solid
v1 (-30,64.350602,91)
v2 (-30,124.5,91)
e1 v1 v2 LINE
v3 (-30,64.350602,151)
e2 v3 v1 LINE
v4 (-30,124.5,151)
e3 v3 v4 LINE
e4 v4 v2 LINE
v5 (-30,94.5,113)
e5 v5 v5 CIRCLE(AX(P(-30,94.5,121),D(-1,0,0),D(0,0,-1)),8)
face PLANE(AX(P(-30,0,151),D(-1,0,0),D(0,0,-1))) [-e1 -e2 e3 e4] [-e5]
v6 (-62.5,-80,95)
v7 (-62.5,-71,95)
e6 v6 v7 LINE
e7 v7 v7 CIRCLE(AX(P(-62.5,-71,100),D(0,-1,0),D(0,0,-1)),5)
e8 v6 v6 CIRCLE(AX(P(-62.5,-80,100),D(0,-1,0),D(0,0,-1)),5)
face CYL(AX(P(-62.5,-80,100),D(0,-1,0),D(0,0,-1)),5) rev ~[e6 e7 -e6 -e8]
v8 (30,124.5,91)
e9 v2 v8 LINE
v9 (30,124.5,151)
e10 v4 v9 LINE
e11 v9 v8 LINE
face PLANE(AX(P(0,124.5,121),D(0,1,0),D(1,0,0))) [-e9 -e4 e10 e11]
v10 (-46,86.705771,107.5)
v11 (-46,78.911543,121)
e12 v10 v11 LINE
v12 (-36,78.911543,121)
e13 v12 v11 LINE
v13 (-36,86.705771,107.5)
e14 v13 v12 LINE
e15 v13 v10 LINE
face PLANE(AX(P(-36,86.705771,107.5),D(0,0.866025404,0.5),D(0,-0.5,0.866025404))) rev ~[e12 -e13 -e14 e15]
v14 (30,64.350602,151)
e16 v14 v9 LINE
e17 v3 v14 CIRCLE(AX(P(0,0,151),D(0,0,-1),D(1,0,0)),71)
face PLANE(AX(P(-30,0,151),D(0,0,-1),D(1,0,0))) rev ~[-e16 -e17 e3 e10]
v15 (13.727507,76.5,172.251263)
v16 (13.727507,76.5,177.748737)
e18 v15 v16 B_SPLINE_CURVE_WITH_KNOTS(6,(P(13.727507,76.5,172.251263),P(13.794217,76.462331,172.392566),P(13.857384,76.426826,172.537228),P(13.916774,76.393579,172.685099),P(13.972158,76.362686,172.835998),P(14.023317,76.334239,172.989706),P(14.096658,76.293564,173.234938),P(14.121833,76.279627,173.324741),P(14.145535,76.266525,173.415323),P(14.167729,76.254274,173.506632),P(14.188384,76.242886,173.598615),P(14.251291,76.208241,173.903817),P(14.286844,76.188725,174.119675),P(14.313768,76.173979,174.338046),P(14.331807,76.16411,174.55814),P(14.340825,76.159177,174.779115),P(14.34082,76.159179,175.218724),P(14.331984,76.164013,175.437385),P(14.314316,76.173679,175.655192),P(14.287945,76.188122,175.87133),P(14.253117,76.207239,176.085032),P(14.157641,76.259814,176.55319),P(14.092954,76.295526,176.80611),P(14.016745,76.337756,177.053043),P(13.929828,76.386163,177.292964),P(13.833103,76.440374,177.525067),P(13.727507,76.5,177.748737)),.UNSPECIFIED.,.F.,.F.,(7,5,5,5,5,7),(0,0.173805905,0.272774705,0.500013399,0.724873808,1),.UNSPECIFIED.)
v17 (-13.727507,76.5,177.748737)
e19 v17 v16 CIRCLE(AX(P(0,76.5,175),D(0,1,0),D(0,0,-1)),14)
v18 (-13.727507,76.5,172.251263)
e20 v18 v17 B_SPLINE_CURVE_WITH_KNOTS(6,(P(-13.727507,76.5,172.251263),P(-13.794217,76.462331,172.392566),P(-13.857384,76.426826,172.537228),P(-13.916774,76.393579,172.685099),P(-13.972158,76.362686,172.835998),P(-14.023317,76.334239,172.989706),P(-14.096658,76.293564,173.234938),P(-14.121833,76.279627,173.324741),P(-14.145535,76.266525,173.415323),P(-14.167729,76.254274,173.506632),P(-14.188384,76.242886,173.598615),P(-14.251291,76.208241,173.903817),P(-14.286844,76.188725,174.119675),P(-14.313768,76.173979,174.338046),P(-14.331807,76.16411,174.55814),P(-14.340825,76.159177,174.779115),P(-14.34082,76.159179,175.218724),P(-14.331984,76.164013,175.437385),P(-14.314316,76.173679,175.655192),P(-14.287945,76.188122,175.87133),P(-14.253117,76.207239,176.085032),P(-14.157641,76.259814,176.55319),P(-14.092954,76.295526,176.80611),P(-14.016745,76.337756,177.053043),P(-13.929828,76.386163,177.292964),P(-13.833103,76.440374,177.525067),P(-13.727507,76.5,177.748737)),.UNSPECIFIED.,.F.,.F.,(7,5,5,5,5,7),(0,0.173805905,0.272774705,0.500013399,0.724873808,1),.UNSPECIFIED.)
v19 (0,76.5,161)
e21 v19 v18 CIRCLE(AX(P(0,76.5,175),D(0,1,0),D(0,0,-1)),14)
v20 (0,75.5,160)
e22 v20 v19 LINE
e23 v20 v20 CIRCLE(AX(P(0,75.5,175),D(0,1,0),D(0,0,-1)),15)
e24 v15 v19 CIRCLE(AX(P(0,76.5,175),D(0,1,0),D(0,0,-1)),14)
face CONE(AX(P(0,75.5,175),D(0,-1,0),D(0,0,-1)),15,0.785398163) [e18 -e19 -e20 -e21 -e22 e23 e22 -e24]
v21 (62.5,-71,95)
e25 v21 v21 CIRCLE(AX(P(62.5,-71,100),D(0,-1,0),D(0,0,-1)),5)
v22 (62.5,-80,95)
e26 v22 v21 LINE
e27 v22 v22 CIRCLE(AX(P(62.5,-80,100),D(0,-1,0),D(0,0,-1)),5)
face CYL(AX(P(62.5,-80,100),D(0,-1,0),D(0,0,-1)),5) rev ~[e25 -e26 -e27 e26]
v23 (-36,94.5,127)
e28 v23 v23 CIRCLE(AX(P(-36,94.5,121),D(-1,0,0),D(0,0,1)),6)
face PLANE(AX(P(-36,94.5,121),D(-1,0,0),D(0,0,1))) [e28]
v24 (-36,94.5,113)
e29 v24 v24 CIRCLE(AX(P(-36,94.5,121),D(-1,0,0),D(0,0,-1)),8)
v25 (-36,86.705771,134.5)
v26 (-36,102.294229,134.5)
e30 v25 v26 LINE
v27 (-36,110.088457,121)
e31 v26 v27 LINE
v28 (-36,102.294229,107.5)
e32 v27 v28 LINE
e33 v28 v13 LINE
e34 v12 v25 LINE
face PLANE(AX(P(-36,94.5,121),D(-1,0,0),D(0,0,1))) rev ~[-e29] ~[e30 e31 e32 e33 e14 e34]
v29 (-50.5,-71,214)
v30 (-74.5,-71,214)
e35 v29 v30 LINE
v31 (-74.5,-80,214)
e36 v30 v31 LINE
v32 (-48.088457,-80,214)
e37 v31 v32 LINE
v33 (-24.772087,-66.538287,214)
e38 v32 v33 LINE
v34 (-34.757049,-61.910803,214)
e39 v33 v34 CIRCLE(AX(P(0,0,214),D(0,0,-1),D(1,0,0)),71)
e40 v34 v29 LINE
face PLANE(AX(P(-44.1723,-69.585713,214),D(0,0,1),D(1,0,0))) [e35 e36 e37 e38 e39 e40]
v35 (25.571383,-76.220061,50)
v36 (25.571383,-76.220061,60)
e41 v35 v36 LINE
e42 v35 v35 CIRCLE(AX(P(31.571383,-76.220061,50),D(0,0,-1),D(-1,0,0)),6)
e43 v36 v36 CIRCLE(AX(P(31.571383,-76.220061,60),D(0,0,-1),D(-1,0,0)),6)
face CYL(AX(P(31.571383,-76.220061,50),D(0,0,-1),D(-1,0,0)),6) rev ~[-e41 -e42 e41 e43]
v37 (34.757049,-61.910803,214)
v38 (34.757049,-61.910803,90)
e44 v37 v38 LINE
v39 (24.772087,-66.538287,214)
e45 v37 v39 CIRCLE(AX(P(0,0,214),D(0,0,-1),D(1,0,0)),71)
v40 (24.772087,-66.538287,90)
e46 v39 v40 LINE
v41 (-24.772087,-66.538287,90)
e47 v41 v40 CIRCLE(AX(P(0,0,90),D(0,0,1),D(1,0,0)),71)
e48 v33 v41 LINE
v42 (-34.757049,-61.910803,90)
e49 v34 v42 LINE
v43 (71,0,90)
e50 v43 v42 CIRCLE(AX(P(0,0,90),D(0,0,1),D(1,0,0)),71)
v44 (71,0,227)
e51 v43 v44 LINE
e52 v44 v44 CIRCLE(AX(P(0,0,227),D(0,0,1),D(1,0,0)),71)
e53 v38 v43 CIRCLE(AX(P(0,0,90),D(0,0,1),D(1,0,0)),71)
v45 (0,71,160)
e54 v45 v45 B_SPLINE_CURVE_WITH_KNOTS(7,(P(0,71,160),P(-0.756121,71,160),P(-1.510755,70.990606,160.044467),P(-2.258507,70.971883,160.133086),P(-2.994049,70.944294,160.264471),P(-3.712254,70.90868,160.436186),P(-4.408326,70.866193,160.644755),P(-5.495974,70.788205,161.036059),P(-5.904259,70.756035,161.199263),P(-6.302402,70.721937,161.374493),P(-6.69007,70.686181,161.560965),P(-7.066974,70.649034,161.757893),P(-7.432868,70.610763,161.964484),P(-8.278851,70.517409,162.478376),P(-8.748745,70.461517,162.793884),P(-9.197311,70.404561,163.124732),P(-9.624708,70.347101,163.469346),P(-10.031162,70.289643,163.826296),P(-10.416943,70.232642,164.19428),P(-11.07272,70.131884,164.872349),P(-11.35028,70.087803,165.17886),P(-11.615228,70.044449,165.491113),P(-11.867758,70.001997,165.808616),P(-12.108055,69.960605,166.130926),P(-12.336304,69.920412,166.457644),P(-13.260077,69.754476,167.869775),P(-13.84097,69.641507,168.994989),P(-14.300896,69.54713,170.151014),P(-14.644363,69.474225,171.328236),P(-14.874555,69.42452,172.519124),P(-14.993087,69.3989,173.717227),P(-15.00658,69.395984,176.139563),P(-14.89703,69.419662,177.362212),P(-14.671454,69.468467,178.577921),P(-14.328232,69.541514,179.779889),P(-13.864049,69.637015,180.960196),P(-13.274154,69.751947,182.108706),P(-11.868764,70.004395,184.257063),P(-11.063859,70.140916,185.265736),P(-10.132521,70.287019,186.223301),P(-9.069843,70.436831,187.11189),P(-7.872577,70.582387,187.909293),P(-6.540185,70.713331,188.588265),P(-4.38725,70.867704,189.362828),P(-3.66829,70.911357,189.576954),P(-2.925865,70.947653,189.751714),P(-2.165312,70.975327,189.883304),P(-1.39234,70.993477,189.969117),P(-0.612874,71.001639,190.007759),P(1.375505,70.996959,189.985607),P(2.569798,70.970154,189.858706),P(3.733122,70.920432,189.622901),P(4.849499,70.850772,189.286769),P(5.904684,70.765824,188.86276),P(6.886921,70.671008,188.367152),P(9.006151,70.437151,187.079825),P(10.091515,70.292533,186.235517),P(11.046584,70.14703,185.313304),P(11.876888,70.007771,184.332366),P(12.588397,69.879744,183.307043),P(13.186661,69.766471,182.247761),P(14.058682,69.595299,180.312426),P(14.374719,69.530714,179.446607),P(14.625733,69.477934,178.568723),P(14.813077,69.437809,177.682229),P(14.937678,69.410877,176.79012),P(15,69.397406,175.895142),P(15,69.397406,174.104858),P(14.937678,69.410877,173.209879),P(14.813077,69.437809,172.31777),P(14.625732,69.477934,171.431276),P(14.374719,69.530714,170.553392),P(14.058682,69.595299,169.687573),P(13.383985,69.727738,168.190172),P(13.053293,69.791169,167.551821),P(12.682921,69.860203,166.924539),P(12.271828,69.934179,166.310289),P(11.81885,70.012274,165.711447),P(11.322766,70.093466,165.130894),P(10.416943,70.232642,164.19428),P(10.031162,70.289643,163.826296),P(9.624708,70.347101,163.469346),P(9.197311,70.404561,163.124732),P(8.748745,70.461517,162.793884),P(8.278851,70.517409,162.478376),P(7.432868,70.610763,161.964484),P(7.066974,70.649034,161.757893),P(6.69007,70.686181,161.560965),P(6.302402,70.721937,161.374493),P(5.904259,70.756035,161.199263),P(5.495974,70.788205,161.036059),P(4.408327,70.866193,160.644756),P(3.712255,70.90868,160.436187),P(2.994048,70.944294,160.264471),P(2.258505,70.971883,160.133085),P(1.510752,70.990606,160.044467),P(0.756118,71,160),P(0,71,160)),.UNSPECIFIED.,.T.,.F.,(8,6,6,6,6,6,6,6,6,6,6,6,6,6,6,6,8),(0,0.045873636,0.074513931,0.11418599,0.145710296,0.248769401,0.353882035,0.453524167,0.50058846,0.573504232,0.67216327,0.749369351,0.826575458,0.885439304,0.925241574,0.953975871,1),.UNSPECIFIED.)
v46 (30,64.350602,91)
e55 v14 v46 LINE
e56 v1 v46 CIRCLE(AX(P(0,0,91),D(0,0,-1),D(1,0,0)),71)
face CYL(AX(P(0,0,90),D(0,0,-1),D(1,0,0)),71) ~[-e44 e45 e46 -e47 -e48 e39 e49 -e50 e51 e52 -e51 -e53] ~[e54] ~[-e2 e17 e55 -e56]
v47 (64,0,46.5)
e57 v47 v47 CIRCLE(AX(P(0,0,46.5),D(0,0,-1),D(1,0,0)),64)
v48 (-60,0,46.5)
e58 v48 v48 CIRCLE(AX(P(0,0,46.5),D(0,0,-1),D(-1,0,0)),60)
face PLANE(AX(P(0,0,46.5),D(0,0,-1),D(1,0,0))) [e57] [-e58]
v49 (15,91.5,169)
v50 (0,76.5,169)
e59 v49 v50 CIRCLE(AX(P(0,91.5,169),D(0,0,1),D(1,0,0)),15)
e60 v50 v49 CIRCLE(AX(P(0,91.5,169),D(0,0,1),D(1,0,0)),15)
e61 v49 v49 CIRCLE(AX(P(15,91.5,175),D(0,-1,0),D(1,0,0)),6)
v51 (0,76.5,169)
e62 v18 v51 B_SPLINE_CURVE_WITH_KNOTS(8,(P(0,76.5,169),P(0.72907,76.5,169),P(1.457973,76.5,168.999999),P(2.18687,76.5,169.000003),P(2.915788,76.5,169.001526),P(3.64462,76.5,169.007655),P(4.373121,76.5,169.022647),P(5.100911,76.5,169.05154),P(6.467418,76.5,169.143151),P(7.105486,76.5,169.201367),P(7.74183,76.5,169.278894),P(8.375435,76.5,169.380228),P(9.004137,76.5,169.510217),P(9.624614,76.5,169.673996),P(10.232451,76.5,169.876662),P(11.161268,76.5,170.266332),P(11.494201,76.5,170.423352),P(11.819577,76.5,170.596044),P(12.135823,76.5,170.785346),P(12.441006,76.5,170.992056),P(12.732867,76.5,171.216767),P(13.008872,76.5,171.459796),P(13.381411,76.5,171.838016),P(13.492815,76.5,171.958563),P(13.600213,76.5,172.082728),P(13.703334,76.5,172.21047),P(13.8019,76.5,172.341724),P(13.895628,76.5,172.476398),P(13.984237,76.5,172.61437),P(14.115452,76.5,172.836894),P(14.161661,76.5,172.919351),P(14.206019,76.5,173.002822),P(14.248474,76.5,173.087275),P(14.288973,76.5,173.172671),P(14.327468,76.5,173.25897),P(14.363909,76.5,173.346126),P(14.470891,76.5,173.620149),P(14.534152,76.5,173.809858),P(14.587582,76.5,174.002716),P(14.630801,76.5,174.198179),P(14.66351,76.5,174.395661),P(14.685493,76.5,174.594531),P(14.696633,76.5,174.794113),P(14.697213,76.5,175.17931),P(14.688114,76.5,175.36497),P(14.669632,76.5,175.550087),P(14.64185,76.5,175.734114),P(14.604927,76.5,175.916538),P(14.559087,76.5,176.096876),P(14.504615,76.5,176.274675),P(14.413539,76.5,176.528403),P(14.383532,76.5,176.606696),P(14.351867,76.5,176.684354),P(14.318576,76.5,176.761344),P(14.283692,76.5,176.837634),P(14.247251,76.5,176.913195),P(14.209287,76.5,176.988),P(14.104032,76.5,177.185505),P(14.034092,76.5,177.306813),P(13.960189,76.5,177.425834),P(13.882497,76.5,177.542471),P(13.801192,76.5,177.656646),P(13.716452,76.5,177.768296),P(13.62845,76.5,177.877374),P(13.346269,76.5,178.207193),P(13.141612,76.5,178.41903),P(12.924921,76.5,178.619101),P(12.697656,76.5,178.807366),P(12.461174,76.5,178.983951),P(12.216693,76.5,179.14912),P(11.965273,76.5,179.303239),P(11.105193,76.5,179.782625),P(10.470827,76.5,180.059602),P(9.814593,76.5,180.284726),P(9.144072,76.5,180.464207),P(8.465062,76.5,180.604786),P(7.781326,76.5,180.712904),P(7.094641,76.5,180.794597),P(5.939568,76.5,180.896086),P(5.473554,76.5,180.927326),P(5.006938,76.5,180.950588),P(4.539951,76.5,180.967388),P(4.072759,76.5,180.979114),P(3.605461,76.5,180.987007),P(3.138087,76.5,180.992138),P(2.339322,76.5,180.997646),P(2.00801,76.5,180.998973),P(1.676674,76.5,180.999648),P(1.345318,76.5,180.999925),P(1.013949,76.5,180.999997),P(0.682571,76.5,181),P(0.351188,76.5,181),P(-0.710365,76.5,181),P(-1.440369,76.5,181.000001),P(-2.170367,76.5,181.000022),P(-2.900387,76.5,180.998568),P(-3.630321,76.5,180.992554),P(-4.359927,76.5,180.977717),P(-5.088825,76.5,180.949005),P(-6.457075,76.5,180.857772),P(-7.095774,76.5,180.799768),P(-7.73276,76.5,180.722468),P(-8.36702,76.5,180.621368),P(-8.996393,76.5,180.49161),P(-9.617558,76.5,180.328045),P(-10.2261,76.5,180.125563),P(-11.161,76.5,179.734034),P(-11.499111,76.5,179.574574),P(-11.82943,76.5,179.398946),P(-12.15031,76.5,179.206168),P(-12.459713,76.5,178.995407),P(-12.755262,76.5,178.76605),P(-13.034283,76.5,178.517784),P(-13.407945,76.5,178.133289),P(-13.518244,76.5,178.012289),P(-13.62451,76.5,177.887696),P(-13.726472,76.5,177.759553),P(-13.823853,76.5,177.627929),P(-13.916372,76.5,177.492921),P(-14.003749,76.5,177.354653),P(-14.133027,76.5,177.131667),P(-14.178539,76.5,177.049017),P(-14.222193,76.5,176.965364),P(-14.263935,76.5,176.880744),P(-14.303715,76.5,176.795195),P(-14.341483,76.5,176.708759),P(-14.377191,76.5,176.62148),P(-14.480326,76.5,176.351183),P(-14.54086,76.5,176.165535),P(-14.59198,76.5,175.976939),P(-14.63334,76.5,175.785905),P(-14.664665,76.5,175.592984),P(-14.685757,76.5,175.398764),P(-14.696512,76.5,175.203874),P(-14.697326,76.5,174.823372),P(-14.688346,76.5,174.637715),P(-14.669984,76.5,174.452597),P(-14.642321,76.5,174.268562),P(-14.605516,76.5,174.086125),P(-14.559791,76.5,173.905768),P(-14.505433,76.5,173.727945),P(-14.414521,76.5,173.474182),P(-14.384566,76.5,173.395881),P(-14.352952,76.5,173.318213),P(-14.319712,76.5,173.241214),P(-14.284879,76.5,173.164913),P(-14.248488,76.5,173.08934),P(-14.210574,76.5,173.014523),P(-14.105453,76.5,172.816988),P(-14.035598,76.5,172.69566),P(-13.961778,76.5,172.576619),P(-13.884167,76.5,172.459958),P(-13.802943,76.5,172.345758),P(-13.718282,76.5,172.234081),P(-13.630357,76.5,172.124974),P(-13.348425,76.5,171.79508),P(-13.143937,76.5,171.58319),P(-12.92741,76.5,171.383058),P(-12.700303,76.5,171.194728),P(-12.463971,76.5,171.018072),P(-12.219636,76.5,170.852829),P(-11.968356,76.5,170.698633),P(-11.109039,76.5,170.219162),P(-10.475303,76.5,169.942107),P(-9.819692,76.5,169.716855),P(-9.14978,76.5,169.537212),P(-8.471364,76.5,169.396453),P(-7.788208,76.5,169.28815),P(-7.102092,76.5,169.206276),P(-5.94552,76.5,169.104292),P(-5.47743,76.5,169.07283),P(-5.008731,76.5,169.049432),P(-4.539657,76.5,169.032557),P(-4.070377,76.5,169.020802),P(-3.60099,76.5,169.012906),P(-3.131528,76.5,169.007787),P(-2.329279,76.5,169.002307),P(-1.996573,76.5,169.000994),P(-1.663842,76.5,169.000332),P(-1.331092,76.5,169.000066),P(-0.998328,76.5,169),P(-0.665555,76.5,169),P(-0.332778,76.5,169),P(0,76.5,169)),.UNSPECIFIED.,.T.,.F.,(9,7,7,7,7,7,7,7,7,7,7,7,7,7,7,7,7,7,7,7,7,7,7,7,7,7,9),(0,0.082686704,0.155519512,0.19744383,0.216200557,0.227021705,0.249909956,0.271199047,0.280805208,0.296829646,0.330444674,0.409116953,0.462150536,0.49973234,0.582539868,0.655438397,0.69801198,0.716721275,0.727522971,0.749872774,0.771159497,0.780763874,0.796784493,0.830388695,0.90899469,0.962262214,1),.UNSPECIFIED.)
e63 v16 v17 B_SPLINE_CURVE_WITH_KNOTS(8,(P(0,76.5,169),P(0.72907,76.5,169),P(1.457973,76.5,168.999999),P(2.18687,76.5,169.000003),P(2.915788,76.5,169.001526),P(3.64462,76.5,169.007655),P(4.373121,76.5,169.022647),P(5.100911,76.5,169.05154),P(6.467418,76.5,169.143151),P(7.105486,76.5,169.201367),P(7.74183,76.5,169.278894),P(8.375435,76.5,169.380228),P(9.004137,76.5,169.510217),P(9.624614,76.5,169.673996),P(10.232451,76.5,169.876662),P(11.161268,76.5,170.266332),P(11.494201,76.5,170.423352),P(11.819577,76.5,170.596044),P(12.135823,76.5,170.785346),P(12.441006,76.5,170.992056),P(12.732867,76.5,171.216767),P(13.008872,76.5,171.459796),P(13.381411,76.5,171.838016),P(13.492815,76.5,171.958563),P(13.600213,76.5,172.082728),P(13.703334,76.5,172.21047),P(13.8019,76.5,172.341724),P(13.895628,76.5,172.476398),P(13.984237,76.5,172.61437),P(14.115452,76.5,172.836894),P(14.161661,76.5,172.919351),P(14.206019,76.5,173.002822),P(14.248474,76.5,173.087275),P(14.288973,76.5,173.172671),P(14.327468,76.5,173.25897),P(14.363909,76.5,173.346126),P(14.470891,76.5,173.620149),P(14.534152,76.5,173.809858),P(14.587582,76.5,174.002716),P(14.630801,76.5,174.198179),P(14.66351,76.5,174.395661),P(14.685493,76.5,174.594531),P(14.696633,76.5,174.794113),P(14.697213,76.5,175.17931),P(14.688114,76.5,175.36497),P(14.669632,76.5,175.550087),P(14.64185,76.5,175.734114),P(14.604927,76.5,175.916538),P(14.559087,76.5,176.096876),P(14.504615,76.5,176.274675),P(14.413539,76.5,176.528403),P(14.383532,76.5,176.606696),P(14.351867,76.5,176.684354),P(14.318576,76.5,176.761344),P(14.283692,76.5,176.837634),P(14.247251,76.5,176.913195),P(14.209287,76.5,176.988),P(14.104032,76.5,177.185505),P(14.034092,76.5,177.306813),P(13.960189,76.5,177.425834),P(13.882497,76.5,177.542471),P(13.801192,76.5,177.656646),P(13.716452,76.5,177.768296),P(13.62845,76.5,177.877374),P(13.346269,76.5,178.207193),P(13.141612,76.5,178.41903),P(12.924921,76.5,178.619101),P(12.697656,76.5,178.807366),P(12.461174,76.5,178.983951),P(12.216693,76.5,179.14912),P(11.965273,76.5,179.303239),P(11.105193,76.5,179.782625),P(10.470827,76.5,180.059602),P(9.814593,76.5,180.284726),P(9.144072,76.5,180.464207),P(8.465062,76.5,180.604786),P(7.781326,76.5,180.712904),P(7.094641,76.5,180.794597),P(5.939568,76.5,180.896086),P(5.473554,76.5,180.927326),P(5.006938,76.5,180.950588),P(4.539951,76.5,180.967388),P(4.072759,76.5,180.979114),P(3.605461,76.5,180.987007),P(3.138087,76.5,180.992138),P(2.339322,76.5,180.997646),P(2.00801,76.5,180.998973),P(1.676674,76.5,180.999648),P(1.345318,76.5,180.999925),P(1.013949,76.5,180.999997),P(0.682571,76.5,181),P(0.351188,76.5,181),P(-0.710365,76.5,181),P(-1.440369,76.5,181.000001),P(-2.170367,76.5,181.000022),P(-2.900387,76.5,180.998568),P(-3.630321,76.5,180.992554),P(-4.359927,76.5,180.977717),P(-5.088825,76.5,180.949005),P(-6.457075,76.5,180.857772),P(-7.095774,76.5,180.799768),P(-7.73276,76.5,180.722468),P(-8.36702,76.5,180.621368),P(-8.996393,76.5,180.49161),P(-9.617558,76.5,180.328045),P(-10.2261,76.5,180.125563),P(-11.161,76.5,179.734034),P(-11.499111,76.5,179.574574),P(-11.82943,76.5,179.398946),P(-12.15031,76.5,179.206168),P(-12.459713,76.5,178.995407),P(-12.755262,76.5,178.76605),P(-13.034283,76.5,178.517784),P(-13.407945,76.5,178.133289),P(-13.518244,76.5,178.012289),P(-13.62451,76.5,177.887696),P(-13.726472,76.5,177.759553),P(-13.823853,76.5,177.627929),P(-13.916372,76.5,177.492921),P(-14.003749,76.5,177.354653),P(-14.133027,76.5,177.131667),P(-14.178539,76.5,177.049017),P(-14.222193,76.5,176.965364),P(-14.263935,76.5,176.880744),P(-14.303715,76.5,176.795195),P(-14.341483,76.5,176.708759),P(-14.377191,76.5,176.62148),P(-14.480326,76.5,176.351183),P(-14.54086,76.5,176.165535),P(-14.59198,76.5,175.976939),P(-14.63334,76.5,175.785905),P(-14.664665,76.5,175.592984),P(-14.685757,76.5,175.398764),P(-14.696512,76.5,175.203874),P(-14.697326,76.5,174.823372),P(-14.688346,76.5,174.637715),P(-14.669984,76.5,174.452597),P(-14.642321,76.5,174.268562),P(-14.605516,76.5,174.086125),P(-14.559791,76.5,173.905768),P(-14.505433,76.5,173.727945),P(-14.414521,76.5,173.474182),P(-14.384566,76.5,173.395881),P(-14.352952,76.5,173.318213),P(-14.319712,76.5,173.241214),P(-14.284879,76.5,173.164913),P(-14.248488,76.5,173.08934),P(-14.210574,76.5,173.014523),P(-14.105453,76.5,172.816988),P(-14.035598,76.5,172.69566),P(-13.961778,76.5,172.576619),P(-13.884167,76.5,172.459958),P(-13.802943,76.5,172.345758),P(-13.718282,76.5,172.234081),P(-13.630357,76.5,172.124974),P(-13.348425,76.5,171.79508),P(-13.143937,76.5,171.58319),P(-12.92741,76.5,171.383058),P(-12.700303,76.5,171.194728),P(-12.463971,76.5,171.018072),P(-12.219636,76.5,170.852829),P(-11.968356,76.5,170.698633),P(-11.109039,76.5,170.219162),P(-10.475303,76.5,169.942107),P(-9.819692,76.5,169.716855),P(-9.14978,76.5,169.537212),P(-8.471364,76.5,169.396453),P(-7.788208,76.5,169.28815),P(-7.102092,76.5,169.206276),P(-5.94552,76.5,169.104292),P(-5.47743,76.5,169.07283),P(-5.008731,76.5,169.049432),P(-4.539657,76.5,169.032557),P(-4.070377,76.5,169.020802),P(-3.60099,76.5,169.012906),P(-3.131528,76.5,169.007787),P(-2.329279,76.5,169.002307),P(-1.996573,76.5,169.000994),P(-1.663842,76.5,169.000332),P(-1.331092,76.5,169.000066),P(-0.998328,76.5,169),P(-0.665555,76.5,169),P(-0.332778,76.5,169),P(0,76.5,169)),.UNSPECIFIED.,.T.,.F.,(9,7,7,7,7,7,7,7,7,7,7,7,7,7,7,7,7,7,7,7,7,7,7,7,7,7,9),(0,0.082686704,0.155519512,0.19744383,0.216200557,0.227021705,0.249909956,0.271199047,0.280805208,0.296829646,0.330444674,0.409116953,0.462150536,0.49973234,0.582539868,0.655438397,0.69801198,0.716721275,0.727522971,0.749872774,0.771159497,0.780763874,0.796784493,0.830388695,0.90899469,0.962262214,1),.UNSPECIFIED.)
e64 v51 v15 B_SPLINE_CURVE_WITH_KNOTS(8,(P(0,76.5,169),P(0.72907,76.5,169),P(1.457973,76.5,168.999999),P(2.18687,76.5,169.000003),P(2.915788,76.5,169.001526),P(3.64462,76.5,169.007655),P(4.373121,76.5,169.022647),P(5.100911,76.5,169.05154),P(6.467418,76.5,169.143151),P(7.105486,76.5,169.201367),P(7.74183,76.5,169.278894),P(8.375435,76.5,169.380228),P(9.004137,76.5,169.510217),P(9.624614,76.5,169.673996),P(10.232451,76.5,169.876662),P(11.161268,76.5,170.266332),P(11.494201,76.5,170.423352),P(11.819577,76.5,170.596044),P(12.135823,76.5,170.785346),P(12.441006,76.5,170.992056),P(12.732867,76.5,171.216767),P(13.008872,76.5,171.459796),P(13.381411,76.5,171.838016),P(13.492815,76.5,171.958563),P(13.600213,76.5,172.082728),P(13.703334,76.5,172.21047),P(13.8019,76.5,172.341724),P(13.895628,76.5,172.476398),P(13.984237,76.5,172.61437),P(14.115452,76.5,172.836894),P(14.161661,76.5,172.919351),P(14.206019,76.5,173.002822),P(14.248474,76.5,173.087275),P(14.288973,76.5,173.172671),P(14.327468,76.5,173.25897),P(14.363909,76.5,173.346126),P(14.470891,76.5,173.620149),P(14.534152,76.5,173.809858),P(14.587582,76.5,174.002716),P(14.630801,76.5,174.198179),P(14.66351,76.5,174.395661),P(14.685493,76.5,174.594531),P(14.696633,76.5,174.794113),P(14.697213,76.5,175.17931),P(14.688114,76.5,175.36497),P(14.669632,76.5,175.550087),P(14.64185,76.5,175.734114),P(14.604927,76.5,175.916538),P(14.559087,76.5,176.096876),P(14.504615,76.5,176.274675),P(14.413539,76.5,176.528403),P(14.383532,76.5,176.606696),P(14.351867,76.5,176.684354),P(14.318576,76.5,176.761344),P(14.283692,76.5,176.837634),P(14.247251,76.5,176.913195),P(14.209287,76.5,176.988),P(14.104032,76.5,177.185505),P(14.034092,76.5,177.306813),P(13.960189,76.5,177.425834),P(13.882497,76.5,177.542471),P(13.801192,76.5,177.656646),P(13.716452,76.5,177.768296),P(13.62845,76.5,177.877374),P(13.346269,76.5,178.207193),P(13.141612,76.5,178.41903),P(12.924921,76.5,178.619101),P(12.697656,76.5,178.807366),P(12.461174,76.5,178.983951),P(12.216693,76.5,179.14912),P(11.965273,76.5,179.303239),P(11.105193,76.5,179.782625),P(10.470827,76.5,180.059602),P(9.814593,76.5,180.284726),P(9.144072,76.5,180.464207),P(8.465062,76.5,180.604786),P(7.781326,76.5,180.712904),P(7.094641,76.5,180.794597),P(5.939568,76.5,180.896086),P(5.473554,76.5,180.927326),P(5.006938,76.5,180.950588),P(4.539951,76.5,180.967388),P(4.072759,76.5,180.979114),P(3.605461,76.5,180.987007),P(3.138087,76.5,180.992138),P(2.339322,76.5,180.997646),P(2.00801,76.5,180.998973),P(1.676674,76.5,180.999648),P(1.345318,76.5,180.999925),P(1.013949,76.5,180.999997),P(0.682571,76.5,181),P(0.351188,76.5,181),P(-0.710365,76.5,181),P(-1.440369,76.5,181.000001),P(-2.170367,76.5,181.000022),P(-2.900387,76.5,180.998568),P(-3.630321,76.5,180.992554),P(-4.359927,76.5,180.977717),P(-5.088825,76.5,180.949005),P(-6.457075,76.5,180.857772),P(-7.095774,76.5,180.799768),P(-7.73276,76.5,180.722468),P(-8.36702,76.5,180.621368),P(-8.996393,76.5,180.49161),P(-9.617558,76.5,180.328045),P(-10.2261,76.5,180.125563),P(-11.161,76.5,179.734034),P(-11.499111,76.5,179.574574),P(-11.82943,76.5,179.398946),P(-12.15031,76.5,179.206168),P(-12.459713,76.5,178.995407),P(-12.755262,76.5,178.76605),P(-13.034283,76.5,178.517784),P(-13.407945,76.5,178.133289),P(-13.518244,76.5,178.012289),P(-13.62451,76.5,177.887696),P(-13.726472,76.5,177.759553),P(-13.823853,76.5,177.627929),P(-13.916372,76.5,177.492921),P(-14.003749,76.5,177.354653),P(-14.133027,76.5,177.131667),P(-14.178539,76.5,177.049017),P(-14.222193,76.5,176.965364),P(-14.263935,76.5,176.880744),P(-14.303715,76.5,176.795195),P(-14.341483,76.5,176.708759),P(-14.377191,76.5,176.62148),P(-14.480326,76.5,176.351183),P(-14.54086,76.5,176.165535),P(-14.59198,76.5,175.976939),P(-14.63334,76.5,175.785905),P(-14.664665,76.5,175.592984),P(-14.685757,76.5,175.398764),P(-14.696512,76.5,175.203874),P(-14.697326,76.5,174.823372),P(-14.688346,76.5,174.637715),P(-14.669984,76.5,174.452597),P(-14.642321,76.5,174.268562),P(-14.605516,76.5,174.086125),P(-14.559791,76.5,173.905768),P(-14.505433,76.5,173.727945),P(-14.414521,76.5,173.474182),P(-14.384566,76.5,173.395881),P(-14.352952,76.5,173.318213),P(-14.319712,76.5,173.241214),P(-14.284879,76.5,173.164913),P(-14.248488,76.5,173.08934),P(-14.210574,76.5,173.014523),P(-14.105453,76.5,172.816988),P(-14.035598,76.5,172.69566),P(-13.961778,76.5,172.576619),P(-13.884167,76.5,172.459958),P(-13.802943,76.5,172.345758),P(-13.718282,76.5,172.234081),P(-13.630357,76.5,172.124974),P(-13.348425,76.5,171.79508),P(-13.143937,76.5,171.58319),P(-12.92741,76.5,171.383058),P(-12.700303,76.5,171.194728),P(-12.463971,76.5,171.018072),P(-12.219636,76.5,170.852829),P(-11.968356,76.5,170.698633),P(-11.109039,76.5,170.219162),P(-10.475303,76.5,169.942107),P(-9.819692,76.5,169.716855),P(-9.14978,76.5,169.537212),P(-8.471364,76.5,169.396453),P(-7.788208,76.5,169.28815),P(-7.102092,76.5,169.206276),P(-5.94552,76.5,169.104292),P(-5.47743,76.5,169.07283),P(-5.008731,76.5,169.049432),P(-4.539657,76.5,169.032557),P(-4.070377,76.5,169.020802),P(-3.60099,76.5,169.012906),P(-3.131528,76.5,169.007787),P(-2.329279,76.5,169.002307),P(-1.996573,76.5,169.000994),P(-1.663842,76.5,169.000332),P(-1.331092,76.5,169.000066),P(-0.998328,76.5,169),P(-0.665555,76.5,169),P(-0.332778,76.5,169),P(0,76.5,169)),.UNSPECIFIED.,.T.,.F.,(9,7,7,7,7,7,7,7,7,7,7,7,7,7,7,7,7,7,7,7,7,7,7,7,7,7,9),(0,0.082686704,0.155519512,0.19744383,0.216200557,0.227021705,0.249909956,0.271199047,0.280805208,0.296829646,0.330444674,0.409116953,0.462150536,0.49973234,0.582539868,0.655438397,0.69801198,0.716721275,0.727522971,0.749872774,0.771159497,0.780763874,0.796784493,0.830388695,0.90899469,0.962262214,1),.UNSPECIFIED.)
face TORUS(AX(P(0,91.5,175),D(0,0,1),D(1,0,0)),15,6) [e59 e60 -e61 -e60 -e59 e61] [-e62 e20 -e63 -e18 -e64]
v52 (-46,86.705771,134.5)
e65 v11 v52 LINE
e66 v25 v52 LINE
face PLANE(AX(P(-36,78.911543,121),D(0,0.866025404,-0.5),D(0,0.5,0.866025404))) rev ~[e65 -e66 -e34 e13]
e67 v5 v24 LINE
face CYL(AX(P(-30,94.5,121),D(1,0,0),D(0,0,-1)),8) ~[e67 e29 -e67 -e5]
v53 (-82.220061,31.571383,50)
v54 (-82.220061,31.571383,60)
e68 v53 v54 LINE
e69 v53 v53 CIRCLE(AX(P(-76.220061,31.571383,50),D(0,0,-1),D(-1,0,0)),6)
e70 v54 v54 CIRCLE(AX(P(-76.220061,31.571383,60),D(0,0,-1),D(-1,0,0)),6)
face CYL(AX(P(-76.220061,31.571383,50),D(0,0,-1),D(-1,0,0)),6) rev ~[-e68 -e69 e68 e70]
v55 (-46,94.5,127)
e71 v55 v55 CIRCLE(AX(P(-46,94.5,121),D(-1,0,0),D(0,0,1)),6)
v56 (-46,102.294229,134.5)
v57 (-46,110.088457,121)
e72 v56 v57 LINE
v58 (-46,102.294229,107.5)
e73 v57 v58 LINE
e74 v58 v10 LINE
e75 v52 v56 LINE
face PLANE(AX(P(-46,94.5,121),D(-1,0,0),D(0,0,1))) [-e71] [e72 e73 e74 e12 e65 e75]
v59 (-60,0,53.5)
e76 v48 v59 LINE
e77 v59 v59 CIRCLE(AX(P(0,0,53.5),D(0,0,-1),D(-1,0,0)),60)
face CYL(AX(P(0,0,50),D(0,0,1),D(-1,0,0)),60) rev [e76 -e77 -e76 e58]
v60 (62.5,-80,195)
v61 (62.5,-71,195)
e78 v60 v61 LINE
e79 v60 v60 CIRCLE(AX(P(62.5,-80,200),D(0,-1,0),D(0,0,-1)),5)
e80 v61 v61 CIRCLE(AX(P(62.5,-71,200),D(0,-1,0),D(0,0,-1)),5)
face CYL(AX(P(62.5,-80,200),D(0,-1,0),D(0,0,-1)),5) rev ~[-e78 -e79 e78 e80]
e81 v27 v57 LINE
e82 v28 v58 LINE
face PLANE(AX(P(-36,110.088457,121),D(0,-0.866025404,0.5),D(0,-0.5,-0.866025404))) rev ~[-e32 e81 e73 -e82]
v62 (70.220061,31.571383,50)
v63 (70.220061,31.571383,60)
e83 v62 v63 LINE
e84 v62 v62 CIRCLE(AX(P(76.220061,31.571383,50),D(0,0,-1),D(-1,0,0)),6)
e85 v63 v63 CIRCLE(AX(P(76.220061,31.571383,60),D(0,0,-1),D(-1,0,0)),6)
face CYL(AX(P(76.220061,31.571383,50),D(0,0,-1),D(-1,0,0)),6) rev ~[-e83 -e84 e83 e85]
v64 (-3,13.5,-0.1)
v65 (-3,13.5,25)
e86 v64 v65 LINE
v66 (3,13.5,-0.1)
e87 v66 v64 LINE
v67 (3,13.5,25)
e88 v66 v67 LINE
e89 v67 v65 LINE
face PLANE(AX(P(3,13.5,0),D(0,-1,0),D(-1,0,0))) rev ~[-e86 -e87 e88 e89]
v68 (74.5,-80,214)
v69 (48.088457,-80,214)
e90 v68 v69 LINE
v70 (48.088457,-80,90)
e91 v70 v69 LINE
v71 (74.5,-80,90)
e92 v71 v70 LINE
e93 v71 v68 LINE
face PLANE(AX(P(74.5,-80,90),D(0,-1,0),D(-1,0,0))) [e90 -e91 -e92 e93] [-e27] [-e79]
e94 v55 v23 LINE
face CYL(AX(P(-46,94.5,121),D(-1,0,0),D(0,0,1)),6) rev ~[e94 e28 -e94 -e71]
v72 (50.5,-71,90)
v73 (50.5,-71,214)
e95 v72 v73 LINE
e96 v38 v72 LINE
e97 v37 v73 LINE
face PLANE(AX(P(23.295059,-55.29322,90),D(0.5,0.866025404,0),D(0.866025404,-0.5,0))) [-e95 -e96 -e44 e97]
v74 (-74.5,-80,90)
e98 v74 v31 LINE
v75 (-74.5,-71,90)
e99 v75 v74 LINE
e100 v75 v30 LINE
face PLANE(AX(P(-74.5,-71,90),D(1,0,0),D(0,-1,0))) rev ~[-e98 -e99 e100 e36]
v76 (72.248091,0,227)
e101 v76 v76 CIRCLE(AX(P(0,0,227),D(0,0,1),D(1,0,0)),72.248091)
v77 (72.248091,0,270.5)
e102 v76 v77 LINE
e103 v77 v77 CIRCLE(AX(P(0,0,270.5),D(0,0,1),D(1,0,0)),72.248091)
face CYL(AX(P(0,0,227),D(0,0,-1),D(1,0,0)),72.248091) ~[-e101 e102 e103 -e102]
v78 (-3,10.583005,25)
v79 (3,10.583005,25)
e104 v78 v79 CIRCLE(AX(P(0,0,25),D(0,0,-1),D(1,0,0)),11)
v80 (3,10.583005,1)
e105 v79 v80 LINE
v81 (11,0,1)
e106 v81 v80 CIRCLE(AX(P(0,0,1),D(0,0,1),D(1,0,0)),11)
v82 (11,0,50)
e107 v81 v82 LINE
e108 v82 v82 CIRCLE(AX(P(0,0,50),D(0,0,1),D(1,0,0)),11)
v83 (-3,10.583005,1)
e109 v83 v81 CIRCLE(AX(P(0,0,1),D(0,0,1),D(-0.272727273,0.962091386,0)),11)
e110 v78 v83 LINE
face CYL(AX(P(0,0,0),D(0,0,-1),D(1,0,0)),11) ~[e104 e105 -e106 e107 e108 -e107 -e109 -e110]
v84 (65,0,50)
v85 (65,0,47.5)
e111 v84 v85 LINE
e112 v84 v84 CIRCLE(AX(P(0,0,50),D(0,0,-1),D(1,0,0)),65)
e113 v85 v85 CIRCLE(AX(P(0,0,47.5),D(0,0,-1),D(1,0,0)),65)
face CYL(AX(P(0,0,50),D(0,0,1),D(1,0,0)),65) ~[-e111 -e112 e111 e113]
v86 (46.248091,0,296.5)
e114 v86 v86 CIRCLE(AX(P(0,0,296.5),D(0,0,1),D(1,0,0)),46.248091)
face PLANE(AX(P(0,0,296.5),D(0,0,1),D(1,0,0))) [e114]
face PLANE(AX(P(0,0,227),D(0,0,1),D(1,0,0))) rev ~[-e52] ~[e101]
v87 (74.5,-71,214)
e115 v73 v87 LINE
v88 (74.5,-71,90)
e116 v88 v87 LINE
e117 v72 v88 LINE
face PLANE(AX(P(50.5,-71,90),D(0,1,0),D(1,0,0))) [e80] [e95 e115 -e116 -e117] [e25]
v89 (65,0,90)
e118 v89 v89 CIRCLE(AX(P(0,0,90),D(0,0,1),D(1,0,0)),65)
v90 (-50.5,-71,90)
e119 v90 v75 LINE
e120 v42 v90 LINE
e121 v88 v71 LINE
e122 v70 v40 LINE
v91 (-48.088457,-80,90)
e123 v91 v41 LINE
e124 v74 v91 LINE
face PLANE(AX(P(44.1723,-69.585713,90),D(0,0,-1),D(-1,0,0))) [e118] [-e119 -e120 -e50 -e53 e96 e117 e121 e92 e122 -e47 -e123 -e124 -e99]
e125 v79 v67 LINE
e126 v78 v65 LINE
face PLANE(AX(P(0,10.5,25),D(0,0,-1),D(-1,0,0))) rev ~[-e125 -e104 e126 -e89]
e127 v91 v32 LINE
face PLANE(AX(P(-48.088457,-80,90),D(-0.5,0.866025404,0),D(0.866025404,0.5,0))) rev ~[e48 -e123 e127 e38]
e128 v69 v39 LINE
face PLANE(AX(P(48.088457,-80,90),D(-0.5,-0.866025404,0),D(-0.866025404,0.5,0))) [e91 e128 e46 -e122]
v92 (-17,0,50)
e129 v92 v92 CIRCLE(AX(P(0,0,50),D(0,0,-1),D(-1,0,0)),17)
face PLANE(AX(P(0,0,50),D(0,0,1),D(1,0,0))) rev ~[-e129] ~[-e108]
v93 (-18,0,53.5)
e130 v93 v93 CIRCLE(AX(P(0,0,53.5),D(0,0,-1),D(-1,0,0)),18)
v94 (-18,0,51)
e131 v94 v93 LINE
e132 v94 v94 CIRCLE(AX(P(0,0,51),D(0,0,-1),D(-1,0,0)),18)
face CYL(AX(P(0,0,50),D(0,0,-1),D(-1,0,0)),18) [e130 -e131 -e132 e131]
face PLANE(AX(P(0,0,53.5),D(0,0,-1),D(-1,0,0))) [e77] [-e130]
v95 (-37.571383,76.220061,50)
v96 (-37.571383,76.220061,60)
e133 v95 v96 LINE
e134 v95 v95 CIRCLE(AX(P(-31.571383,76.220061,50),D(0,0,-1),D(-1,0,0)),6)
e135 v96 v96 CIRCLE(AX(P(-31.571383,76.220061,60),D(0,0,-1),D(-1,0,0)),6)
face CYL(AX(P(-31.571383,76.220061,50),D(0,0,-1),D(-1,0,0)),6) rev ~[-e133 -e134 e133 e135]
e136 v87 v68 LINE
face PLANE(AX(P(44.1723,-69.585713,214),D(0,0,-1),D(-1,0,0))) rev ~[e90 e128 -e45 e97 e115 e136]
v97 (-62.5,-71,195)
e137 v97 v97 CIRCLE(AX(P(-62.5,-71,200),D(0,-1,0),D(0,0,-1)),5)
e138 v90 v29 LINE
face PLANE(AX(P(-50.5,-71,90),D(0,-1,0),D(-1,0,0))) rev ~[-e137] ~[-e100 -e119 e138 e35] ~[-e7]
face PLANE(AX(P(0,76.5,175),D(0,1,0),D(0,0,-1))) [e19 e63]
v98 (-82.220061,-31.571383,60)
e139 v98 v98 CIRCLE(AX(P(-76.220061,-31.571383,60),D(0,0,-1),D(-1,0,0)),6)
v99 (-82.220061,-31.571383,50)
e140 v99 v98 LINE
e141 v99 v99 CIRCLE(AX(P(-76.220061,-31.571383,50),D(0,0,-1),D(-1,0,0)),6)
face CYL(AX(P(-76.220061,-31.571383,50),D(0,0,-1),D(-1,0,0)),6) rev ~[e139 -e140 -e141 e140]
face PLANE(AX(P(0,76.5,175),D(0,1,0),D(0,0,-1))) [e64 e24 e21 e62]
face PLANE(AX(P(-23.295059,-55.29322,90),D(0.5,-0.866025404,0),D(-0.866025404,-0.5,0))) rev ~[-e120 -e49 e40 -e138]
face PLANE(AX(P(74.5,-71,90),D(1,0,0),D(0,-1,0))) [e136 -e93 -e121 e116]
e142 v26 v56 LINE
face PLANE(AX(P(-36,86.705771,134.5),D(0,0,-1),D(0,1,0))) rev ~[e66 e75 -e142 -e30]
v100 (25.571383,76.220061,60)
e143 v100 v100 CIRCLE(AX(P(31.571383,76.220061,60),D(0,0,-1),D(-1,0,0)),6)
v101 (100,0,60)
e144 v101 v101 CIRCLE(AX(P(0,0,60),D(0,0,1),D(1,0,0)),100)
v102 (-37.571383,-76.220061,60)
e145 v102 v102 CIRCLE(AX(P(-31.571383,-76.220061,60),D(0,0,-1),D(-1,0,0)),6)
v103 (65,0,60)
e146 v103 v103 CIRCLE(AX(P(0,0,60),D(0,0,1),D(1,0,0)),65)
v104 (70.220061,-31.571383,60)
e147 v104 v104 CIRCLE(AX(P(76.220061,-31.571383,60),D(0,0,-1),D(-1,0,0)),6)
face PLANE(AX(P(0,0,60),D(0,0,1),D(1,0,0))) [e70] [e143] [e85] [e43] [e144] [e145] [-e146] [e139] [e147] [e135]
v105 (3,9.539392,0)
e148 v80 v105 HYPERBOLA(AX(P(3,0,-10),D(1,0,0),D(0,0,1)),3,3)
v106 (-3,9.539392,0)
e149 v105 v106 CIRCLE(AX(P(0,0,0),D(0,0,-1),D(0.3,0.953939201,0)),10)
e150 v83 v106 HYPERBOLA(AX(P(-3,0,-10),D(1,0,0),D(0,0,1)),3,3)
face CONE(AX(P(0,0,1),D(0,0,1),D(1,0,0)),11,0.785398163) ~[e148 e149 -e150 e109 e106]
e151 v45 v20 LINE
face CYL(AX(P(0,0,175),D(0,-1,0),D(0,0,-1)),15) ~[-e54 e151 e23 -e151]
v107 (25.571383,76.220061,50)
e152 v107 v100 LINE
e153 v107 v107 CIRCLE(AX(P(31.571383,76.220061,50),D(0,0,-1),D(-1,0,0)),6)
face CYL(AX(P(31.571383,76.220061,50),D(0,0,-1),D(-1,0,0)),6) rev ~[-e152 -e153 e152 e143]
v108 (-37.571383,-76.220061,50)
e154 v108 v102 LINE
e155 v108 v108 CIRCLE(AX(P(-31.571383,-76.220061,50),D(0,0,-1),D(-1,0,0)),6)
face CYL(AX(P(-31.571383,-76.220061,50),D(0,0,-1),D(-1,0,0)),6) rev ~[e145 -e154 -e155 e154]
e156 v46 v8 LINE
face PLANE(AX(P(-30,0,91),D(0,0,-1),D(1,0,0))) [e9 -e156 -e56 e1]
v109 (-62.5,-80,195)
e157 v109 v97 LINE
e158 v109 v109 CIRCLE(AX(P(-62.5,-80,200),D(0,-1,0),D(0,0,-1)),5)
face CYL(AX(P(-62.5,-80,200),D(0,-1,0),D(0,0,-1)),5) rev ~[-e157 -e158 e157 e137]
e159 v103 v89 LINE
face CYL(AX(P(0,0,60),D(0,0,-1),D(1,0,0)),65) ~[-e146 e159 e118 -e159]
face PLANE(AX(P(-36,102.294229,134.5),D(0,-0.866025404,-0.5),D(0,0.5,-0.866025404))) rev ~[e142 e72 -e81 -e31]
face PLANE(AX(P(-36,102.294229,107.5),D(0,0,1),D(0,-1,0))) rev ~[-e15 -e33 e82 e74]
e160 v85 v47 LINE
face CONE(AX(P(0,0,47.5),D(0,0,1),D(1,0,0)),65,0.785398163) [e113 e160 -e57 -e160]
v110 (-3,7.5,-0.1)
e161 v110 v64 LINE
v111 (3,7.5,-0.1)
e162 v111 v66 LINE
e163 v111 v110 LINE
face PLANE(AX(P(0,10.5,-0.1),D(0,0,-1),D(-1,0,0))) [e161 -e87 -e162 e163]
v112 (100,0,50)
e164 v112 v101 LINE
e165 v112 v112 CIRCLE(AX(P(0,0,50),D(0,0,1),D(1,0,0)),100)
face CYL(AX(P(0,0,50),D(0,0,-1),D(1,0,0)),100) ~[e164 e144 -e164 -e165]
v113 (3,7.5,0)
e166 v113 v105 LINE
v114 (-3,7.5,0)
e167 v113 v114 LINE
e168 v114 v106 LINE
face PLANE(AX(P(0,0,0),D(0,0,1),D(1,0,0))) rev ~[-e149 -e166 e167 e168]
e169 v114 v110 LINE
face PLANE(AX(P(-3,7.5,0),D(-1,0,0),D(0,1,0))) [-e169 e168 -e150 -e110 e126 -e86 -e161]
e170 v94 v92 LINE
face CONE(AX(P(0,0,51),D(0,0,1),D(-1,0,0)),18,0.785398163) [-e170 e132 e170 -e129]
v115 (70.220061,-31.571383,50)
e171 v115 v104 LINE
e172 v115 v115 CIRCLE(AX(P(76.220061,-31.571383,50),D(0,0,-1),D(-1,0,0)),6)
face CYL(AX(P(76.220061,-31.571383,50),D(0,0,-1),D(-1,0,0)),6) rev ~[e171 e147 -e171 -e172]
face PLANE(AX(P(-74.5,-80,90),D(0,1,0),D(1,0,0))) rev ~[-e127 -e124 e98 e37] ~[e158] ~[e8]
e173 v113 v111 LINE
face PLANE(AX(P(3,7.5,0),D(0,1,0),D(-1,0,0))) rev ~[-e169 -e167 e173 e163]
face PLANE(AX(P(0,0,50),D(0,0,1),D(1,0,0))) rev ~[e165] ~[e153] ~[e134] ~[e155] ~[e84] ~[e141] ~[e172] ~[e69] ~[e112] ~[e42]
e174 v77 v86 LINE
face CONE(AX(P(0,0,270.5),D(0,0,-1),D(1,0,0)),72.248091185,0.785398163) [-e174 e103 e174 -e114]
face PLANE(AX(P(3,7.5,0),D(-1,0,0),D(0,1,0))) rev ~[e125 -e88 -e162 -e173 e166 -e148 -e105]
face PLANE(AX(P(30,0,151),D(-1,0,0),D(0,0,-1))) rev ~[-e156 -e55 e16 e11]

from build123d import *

# Parameters (mm, degrees)
SKETCH_1_R           = 11
EXTRUDE_1_DEPTH      = 50
SKETCH_2_W           = 6
SKETCH_2_H           = 6
EXTRUDE_2_DEPTH      = 0.1
EXTRUDE_2_DEPTH_BACK = 25
CHAMFER_1_SIZE       = 1
SKETCH_3_R           = 100
EXTRUDE_3_DEPTH      = 10
SKETCH_4_R           = 65
SKETCH_4_R_2         = 60
EXTRUDE_4_DEPTH      = 3.5
SKETCH_5_R           = 60
SKETCH_5_R_2         = 18
CUT_EXTRUDE_1_DEPTH  = 3.5
CHAMFER_2_SIZE       = 1
SKETCH_6_R           = 65
EXTRUDE_5_DEPTH      = 30
SKETCH_7_R           = 71
EXTRUDE_6_DEPTH      = 137
SKETCH_8_R           = 72.248091185
EXTRUDE_7_DEPTH      = 69.5
CHAMFER_3_SIZE       = 26
SKETCH_9_R           = 6
CUT_EXTRUDE_2_DEPTH  = 247.5
EXTRUDE_8_DEPTH      = 124
CUT_EXTRUDE_3_REACH  = 182
SKETCH_11_R          = 5
SKETCH_12_W          = 60
SKETCH_12_H          = 60
EXTRUDE_9_DEPTH      = 124.5
SKETCH_13_R          = 15
EXTRUDE_10_DEPTH     = 76.5
CHAMFER_4_SIZE       = 1
SKETCH_15_R          = 6
SKETCH_16_R          = 8
EXTRUDE_11_DEPTH     = 6
EXTRUDE_12_DEPTH     = 10
SKETCH_18_R          = 6
CUT_EXTRUDE_4_DEPTH  = 10


with BuildPart() as part:
    # Эскиз1 → Вытянуть1 (new body)
    with BuildSketch(Plane.XY):
        Circle(SKETCH_1_R)
    extrude(amount=EXTRUDE_1_DEPTH)

    # Эскиз2 → Вытянуть2 (add, two sides)
    with BuildSketch(Plane(origin=(0, 0, 0), x_dir=(-1, 0, 0), z_dir=(0, 0, -1))) as extrude_2_sk:
        with Locations((0, 10.5)):
            Rectangle(SKETCH_2_W, SKETCH_2_H)
    extrude(amount=EXTRUDE_2_DEPTH)
    extrude(extrude_2_sk.sketch, amount=-EXTRUDE_2_DEPTH_BACK)

    # Фаска1
    chamfer_1_edges = [part.edges().sort_by_distance(p)[0] for p in [
        (-6.633249581, -8.774964387, 0),
    ]]
    chamfer(chamfer_1_edges, length=CHAMFER_1_SIZE)

    # Эскиз3 → Вытянуть3 (add)
    with BuildSketch(Plane.XY.offset(50)):
        Circle(SKETCH_3_R)
    extrude(amount=EXTRUDE_3_DEPTH)

    # Эскиз4 → Вытянуть4 (add)
    with BuildSketch(Plane(origin=(0, 0, 50), x_dir=(-1, 0, 0), z_dir=(0, 0, -1))):
        with Locations(Location((0, 0, 0), (0, 0, 180))):  # turned: the seam where the file's is
            Circle(SKETCH_4_R)
        Circle(SKETCH_4_R_2, mode=Mode.SUBTRACT)
    extrude(amount=EXTRUDE_4_DEPTH)

    # Эскиз5 → Вырез-Вытянуть1 (cut)
    with BuildSketch(Plane(origin=(0, 0, 50), x_dir=(-1, 0, 0), z_dir=(0, 0, -1))):
        Circle(SKETCH_5_R)
        Circle(SKETCH_5_R_2, mode=Mode.SUBTRACT)
    extrude(amount=-CUT_EXTRUDE_1_DEPTH, mode=Mode.SUBTRACT)

    # Фаска2
    chamfer_2_edges = [part.edges().sort_by_distance(p)[0] for p in [
        (-65, 0, 46.5),
        (18, 0, 50),
    ]]
    chamfer(chamfer_2_edges, length=CHAMFER_2_SIZE)

    # Эскиз6 → Вытянуть5 (add)
    with BuildSketch(Plane.XY.offset(60)):
        Circle(SKETCH_6_R)
    extrude(amount=EXTRUDE_5_DEPTH)

    # Эскиз7 → Вытянуть6 (add)
    with BuildSketch(Plane.XY.offset(90)):
        Circle(SKETCH_7_R)
    extrude(amount=EXTRUDE_6_DEPTH)

    # Эскиз8 → Вытянуть7 (add)
    with BuildSketch(Plane.XY.offset(227)):
        Circle(SKETCH_8_R)
    extrude(amount=EXTRUDE_7_DEPTH)

    # Фаска3
    chamfer_3_edges = [part.edges().sort_by_distance(p)[0] for p in [
        (-72.248091185, 0, 296.5),
    ]]
    chamfer(chamfer_3_edges, length=CHAMFER_3_SIZE)

    # Эскиз9 → Вырез-Вытянуть2 (cut, through all)
    with BuildSketch(Plane(origin=(0, 0, 50), x_dir=(-1, 0, 0), z_dir=(0, 0, -1))):
        with Locations((-31.57138317, 76.220061432)):
            Circle(SKETCH_9_R)
        with Locations((31.57138317, 76.220061432)):
            Circle(SKETCH_9_R)
        with Locations((76.220061432, 31.57138317)):
            Circle(SKETCH_9_R)
        with Locations((76.220061432, -31.57138317)):
            Circle(SKETCH_9_R)
        with Locations((31.57138317, -76.220061432)):
            Circle(SKETCH_9_R)
        with Locations((-31.57138317, -76.220061432)):
            Circle(SKETCH_9_R)
        with Locations((-76.220061432, -31.57138317)):
            Circle(SKETCH_9_R)
        with Locations((-76.220061432, 31.57138317)):
            Circle(SKETCH_9_R)
    extrude(amount=-CUT_EXTRUDE_2_DEPTH, mode=Mode.SUBTRACT)

    # Эскиз10 → Вытянуть8 (add)
    with BuildSketch(Plane(origin=(0, 0, 90), x_dir=(-1, 0, 0), z_dir=(0, 0, -1))):
        Polygon((-74.5, -80), (-48.088457268, -80), (-11.515477308, -58.884580175), (-23.295059446, -55.293220248), (-50.5, -71), (-74.5, -71), align=None)
        Polygon((74.5, -71), (74.5, -80), (48.088457268, -80), (11.515477308, -58.884580175), (23.295059446, -55.293220248), (50.5, -71), align=None)
    extrude(amount=-EXTRUDE_8_DEPTH)

    # Эскиз11 → Вырез-Вытянуть3 (cut, up to next)
    with BuildSketch(Plane.XZ.offset(80), mode=Mode.PRIVATE) as cut_extrude_3_sk1:
        with Locations(Location((-62.5, 100, 0), (0, 0, 270))):  # turned: the seam where the file's is
            Circle(SKETCH_11_R)
    cut_extrude_3_tool1 = extrude(cut_extrude_3_sk1.sketch, amount=-CUT_EXTRUDE_3_REACH, mode=Mode.PRIVATE) & part.part
    add(cut_extrude_3_tool1.solids().sort_by_distance((-62.5, -80, 100))[0], mode=Mode.SUBTRACT)
    # Эскиз11 → Вырез-Вытянуть3 (cut, up to next)
    with BuildSketch(Plane.XZ.offset(80), mode=Mode.PRIVATE) as cut_extrude_3_sk2:
        with Locations(Location((62.5, 100, 0), (0, 0, 270))):  # turned: the seam where the file's is
            Circle(SKETCH_11_R)
    cut_extrude_3_tool2 = extrude(cut_extrude_3_sk2.sketch, amount=-CUT_EXTRUDE_3_REACH, mode=Mode.PRIVATE) & part.part
    add(cut_extrude_3_tool2.solids().sort_by_distance((62.5, -80, 100))[0], mode=Mode.SUBTRACT)
    # Эскиз11 → Вырез-Вытянуть3 (cut, up to next)
    with BuildSketch(Plane.XZ.offset(80), mode=Mode.PRIVATE) as cut_extrude_3_sk3:
        with Locations(Location((-62.5, 200, 0), (0, 0, 270))):  # turned: the seam where the file's is
            Circle(SKETCH_11_R)
    cut_extrude_3_tool3 = extrude(cut_extrude_3_sk3.sketch, amount=-CUT_EXTRUDE_3_REACH, mode=Mode.PRIVATE) & part.part
    add(cut_extrude_3_tool3.solids().sort_by_distance((-62.5, -80, 200))[0], mode=Mode.SUBTRACT)
    # Эскиз11 → Вырез-Вытянуть3 (cut, up to next)
    with BuildSketch(Plane.XZ.offset(80), mode=Mode.PRIVATE) as cut_extrude_3_sk4:
        with Locations(Location((62.5, 200, 0), (0, 0, 270))):  # turned: the seam where the file's is
            Circle(SKETCH_11_R)
    cut_extrude_3_tool4 = extrude(cut_extrude_3_sk4.sketch, amount=-CUT_EXTRUDE_3_REACH, mode=Mode.PRIVATE) & part.part
    add(cut_extrude_3_tool4.solids().sort_by_distance((62.5, -80, 200))[0], mode=Mode.SUBTRACT)

    # Эскиз12 → Вытянуть9 (add)
    with BuildSketch(Plane(origin=(0, 0, 0), x_dir=(1, 0, 0), z_dir=(0, 1, 0))):
        with Locations((0, -121)):
            Rectangle(SKETCH_12_W, SKETCH_12_H)
    extrude(amount=EXTRUDE_9_DEPTH)

    # Эскиз13 → Вытянуть10 (add)
    with BuildSketch(Plane(origin=(0, 0, 0), x_dir=(1, 0, 0), z_dir=(0, 1, 0))):
        with Locations(Location((0, -175, 0), (0, 0, 90))):  # turned: the seam where the file's is
            Circle(SKETCH_13_R)
    extrude(amount=EXTRUDE_10_DEPTH)

    # Фаска4
    chamfer_4_edges = [part.edges().sort_by_distance(p)[0] for p in [
        (0, 76.5, 190),
    ]]
    chamfer(chamfer_4_edges, length=CHAMFER_4_SIZE)

    # По траектории1: sweep along a path in Эскиз14
    with BuildLine(Plane.XY.offset(175)) as sweep_1_path:
        CenterArc((0, 91.5), 15, 0, 360)
    # Эскиз15 → По траектории1 (sweep)
    with BuildSketch(Plane(origin=(0, 0, 0), x_dir=(0, 0, -1), z_dir=(1, 0, 0))):
        with Locations((-175, 106.5)):
            Circle(SKETCH_15_R)
    sweep(path=sweep_1_path.line)

    # Эскиз16 → Вытянуть11 (add)
    with BuildSketch(Plane.ZY.offset(30)):
        with Locations(Location((121, 94.5, 0), (0, 0, 180))):  # turned: the seam where the file's is
            Circle(SKETCH_16_R)
    extrude(amount=EXTRUDE_11_DEPTH)

    # Эскиз17 → Вытянуть12 (add)
    with BuildSketch(Plane.ZY.offset(36)):
        Polygon((121, 110.088457268), (107.5, 102.294228634), (107.5, 86.705771366), (121, 78.911542732), (134.5, 86.705771366), (134.5, 102.294228634), align=None)
    extrude(amount=EXTRUDE_12_DEPTH)

    # Эскиз18 → Вырез-Вытянуть4 (cut)
    with BuildSketch(Plane.ZY.offset(46)):
        with Locations((121, 94.5)):
            Circle(SKETCH_18_R)
    extrude(amount=-CUT_EXTRUDE_4_DEPTH, mode=Mode.SUBTRACT)


solid = part.part
